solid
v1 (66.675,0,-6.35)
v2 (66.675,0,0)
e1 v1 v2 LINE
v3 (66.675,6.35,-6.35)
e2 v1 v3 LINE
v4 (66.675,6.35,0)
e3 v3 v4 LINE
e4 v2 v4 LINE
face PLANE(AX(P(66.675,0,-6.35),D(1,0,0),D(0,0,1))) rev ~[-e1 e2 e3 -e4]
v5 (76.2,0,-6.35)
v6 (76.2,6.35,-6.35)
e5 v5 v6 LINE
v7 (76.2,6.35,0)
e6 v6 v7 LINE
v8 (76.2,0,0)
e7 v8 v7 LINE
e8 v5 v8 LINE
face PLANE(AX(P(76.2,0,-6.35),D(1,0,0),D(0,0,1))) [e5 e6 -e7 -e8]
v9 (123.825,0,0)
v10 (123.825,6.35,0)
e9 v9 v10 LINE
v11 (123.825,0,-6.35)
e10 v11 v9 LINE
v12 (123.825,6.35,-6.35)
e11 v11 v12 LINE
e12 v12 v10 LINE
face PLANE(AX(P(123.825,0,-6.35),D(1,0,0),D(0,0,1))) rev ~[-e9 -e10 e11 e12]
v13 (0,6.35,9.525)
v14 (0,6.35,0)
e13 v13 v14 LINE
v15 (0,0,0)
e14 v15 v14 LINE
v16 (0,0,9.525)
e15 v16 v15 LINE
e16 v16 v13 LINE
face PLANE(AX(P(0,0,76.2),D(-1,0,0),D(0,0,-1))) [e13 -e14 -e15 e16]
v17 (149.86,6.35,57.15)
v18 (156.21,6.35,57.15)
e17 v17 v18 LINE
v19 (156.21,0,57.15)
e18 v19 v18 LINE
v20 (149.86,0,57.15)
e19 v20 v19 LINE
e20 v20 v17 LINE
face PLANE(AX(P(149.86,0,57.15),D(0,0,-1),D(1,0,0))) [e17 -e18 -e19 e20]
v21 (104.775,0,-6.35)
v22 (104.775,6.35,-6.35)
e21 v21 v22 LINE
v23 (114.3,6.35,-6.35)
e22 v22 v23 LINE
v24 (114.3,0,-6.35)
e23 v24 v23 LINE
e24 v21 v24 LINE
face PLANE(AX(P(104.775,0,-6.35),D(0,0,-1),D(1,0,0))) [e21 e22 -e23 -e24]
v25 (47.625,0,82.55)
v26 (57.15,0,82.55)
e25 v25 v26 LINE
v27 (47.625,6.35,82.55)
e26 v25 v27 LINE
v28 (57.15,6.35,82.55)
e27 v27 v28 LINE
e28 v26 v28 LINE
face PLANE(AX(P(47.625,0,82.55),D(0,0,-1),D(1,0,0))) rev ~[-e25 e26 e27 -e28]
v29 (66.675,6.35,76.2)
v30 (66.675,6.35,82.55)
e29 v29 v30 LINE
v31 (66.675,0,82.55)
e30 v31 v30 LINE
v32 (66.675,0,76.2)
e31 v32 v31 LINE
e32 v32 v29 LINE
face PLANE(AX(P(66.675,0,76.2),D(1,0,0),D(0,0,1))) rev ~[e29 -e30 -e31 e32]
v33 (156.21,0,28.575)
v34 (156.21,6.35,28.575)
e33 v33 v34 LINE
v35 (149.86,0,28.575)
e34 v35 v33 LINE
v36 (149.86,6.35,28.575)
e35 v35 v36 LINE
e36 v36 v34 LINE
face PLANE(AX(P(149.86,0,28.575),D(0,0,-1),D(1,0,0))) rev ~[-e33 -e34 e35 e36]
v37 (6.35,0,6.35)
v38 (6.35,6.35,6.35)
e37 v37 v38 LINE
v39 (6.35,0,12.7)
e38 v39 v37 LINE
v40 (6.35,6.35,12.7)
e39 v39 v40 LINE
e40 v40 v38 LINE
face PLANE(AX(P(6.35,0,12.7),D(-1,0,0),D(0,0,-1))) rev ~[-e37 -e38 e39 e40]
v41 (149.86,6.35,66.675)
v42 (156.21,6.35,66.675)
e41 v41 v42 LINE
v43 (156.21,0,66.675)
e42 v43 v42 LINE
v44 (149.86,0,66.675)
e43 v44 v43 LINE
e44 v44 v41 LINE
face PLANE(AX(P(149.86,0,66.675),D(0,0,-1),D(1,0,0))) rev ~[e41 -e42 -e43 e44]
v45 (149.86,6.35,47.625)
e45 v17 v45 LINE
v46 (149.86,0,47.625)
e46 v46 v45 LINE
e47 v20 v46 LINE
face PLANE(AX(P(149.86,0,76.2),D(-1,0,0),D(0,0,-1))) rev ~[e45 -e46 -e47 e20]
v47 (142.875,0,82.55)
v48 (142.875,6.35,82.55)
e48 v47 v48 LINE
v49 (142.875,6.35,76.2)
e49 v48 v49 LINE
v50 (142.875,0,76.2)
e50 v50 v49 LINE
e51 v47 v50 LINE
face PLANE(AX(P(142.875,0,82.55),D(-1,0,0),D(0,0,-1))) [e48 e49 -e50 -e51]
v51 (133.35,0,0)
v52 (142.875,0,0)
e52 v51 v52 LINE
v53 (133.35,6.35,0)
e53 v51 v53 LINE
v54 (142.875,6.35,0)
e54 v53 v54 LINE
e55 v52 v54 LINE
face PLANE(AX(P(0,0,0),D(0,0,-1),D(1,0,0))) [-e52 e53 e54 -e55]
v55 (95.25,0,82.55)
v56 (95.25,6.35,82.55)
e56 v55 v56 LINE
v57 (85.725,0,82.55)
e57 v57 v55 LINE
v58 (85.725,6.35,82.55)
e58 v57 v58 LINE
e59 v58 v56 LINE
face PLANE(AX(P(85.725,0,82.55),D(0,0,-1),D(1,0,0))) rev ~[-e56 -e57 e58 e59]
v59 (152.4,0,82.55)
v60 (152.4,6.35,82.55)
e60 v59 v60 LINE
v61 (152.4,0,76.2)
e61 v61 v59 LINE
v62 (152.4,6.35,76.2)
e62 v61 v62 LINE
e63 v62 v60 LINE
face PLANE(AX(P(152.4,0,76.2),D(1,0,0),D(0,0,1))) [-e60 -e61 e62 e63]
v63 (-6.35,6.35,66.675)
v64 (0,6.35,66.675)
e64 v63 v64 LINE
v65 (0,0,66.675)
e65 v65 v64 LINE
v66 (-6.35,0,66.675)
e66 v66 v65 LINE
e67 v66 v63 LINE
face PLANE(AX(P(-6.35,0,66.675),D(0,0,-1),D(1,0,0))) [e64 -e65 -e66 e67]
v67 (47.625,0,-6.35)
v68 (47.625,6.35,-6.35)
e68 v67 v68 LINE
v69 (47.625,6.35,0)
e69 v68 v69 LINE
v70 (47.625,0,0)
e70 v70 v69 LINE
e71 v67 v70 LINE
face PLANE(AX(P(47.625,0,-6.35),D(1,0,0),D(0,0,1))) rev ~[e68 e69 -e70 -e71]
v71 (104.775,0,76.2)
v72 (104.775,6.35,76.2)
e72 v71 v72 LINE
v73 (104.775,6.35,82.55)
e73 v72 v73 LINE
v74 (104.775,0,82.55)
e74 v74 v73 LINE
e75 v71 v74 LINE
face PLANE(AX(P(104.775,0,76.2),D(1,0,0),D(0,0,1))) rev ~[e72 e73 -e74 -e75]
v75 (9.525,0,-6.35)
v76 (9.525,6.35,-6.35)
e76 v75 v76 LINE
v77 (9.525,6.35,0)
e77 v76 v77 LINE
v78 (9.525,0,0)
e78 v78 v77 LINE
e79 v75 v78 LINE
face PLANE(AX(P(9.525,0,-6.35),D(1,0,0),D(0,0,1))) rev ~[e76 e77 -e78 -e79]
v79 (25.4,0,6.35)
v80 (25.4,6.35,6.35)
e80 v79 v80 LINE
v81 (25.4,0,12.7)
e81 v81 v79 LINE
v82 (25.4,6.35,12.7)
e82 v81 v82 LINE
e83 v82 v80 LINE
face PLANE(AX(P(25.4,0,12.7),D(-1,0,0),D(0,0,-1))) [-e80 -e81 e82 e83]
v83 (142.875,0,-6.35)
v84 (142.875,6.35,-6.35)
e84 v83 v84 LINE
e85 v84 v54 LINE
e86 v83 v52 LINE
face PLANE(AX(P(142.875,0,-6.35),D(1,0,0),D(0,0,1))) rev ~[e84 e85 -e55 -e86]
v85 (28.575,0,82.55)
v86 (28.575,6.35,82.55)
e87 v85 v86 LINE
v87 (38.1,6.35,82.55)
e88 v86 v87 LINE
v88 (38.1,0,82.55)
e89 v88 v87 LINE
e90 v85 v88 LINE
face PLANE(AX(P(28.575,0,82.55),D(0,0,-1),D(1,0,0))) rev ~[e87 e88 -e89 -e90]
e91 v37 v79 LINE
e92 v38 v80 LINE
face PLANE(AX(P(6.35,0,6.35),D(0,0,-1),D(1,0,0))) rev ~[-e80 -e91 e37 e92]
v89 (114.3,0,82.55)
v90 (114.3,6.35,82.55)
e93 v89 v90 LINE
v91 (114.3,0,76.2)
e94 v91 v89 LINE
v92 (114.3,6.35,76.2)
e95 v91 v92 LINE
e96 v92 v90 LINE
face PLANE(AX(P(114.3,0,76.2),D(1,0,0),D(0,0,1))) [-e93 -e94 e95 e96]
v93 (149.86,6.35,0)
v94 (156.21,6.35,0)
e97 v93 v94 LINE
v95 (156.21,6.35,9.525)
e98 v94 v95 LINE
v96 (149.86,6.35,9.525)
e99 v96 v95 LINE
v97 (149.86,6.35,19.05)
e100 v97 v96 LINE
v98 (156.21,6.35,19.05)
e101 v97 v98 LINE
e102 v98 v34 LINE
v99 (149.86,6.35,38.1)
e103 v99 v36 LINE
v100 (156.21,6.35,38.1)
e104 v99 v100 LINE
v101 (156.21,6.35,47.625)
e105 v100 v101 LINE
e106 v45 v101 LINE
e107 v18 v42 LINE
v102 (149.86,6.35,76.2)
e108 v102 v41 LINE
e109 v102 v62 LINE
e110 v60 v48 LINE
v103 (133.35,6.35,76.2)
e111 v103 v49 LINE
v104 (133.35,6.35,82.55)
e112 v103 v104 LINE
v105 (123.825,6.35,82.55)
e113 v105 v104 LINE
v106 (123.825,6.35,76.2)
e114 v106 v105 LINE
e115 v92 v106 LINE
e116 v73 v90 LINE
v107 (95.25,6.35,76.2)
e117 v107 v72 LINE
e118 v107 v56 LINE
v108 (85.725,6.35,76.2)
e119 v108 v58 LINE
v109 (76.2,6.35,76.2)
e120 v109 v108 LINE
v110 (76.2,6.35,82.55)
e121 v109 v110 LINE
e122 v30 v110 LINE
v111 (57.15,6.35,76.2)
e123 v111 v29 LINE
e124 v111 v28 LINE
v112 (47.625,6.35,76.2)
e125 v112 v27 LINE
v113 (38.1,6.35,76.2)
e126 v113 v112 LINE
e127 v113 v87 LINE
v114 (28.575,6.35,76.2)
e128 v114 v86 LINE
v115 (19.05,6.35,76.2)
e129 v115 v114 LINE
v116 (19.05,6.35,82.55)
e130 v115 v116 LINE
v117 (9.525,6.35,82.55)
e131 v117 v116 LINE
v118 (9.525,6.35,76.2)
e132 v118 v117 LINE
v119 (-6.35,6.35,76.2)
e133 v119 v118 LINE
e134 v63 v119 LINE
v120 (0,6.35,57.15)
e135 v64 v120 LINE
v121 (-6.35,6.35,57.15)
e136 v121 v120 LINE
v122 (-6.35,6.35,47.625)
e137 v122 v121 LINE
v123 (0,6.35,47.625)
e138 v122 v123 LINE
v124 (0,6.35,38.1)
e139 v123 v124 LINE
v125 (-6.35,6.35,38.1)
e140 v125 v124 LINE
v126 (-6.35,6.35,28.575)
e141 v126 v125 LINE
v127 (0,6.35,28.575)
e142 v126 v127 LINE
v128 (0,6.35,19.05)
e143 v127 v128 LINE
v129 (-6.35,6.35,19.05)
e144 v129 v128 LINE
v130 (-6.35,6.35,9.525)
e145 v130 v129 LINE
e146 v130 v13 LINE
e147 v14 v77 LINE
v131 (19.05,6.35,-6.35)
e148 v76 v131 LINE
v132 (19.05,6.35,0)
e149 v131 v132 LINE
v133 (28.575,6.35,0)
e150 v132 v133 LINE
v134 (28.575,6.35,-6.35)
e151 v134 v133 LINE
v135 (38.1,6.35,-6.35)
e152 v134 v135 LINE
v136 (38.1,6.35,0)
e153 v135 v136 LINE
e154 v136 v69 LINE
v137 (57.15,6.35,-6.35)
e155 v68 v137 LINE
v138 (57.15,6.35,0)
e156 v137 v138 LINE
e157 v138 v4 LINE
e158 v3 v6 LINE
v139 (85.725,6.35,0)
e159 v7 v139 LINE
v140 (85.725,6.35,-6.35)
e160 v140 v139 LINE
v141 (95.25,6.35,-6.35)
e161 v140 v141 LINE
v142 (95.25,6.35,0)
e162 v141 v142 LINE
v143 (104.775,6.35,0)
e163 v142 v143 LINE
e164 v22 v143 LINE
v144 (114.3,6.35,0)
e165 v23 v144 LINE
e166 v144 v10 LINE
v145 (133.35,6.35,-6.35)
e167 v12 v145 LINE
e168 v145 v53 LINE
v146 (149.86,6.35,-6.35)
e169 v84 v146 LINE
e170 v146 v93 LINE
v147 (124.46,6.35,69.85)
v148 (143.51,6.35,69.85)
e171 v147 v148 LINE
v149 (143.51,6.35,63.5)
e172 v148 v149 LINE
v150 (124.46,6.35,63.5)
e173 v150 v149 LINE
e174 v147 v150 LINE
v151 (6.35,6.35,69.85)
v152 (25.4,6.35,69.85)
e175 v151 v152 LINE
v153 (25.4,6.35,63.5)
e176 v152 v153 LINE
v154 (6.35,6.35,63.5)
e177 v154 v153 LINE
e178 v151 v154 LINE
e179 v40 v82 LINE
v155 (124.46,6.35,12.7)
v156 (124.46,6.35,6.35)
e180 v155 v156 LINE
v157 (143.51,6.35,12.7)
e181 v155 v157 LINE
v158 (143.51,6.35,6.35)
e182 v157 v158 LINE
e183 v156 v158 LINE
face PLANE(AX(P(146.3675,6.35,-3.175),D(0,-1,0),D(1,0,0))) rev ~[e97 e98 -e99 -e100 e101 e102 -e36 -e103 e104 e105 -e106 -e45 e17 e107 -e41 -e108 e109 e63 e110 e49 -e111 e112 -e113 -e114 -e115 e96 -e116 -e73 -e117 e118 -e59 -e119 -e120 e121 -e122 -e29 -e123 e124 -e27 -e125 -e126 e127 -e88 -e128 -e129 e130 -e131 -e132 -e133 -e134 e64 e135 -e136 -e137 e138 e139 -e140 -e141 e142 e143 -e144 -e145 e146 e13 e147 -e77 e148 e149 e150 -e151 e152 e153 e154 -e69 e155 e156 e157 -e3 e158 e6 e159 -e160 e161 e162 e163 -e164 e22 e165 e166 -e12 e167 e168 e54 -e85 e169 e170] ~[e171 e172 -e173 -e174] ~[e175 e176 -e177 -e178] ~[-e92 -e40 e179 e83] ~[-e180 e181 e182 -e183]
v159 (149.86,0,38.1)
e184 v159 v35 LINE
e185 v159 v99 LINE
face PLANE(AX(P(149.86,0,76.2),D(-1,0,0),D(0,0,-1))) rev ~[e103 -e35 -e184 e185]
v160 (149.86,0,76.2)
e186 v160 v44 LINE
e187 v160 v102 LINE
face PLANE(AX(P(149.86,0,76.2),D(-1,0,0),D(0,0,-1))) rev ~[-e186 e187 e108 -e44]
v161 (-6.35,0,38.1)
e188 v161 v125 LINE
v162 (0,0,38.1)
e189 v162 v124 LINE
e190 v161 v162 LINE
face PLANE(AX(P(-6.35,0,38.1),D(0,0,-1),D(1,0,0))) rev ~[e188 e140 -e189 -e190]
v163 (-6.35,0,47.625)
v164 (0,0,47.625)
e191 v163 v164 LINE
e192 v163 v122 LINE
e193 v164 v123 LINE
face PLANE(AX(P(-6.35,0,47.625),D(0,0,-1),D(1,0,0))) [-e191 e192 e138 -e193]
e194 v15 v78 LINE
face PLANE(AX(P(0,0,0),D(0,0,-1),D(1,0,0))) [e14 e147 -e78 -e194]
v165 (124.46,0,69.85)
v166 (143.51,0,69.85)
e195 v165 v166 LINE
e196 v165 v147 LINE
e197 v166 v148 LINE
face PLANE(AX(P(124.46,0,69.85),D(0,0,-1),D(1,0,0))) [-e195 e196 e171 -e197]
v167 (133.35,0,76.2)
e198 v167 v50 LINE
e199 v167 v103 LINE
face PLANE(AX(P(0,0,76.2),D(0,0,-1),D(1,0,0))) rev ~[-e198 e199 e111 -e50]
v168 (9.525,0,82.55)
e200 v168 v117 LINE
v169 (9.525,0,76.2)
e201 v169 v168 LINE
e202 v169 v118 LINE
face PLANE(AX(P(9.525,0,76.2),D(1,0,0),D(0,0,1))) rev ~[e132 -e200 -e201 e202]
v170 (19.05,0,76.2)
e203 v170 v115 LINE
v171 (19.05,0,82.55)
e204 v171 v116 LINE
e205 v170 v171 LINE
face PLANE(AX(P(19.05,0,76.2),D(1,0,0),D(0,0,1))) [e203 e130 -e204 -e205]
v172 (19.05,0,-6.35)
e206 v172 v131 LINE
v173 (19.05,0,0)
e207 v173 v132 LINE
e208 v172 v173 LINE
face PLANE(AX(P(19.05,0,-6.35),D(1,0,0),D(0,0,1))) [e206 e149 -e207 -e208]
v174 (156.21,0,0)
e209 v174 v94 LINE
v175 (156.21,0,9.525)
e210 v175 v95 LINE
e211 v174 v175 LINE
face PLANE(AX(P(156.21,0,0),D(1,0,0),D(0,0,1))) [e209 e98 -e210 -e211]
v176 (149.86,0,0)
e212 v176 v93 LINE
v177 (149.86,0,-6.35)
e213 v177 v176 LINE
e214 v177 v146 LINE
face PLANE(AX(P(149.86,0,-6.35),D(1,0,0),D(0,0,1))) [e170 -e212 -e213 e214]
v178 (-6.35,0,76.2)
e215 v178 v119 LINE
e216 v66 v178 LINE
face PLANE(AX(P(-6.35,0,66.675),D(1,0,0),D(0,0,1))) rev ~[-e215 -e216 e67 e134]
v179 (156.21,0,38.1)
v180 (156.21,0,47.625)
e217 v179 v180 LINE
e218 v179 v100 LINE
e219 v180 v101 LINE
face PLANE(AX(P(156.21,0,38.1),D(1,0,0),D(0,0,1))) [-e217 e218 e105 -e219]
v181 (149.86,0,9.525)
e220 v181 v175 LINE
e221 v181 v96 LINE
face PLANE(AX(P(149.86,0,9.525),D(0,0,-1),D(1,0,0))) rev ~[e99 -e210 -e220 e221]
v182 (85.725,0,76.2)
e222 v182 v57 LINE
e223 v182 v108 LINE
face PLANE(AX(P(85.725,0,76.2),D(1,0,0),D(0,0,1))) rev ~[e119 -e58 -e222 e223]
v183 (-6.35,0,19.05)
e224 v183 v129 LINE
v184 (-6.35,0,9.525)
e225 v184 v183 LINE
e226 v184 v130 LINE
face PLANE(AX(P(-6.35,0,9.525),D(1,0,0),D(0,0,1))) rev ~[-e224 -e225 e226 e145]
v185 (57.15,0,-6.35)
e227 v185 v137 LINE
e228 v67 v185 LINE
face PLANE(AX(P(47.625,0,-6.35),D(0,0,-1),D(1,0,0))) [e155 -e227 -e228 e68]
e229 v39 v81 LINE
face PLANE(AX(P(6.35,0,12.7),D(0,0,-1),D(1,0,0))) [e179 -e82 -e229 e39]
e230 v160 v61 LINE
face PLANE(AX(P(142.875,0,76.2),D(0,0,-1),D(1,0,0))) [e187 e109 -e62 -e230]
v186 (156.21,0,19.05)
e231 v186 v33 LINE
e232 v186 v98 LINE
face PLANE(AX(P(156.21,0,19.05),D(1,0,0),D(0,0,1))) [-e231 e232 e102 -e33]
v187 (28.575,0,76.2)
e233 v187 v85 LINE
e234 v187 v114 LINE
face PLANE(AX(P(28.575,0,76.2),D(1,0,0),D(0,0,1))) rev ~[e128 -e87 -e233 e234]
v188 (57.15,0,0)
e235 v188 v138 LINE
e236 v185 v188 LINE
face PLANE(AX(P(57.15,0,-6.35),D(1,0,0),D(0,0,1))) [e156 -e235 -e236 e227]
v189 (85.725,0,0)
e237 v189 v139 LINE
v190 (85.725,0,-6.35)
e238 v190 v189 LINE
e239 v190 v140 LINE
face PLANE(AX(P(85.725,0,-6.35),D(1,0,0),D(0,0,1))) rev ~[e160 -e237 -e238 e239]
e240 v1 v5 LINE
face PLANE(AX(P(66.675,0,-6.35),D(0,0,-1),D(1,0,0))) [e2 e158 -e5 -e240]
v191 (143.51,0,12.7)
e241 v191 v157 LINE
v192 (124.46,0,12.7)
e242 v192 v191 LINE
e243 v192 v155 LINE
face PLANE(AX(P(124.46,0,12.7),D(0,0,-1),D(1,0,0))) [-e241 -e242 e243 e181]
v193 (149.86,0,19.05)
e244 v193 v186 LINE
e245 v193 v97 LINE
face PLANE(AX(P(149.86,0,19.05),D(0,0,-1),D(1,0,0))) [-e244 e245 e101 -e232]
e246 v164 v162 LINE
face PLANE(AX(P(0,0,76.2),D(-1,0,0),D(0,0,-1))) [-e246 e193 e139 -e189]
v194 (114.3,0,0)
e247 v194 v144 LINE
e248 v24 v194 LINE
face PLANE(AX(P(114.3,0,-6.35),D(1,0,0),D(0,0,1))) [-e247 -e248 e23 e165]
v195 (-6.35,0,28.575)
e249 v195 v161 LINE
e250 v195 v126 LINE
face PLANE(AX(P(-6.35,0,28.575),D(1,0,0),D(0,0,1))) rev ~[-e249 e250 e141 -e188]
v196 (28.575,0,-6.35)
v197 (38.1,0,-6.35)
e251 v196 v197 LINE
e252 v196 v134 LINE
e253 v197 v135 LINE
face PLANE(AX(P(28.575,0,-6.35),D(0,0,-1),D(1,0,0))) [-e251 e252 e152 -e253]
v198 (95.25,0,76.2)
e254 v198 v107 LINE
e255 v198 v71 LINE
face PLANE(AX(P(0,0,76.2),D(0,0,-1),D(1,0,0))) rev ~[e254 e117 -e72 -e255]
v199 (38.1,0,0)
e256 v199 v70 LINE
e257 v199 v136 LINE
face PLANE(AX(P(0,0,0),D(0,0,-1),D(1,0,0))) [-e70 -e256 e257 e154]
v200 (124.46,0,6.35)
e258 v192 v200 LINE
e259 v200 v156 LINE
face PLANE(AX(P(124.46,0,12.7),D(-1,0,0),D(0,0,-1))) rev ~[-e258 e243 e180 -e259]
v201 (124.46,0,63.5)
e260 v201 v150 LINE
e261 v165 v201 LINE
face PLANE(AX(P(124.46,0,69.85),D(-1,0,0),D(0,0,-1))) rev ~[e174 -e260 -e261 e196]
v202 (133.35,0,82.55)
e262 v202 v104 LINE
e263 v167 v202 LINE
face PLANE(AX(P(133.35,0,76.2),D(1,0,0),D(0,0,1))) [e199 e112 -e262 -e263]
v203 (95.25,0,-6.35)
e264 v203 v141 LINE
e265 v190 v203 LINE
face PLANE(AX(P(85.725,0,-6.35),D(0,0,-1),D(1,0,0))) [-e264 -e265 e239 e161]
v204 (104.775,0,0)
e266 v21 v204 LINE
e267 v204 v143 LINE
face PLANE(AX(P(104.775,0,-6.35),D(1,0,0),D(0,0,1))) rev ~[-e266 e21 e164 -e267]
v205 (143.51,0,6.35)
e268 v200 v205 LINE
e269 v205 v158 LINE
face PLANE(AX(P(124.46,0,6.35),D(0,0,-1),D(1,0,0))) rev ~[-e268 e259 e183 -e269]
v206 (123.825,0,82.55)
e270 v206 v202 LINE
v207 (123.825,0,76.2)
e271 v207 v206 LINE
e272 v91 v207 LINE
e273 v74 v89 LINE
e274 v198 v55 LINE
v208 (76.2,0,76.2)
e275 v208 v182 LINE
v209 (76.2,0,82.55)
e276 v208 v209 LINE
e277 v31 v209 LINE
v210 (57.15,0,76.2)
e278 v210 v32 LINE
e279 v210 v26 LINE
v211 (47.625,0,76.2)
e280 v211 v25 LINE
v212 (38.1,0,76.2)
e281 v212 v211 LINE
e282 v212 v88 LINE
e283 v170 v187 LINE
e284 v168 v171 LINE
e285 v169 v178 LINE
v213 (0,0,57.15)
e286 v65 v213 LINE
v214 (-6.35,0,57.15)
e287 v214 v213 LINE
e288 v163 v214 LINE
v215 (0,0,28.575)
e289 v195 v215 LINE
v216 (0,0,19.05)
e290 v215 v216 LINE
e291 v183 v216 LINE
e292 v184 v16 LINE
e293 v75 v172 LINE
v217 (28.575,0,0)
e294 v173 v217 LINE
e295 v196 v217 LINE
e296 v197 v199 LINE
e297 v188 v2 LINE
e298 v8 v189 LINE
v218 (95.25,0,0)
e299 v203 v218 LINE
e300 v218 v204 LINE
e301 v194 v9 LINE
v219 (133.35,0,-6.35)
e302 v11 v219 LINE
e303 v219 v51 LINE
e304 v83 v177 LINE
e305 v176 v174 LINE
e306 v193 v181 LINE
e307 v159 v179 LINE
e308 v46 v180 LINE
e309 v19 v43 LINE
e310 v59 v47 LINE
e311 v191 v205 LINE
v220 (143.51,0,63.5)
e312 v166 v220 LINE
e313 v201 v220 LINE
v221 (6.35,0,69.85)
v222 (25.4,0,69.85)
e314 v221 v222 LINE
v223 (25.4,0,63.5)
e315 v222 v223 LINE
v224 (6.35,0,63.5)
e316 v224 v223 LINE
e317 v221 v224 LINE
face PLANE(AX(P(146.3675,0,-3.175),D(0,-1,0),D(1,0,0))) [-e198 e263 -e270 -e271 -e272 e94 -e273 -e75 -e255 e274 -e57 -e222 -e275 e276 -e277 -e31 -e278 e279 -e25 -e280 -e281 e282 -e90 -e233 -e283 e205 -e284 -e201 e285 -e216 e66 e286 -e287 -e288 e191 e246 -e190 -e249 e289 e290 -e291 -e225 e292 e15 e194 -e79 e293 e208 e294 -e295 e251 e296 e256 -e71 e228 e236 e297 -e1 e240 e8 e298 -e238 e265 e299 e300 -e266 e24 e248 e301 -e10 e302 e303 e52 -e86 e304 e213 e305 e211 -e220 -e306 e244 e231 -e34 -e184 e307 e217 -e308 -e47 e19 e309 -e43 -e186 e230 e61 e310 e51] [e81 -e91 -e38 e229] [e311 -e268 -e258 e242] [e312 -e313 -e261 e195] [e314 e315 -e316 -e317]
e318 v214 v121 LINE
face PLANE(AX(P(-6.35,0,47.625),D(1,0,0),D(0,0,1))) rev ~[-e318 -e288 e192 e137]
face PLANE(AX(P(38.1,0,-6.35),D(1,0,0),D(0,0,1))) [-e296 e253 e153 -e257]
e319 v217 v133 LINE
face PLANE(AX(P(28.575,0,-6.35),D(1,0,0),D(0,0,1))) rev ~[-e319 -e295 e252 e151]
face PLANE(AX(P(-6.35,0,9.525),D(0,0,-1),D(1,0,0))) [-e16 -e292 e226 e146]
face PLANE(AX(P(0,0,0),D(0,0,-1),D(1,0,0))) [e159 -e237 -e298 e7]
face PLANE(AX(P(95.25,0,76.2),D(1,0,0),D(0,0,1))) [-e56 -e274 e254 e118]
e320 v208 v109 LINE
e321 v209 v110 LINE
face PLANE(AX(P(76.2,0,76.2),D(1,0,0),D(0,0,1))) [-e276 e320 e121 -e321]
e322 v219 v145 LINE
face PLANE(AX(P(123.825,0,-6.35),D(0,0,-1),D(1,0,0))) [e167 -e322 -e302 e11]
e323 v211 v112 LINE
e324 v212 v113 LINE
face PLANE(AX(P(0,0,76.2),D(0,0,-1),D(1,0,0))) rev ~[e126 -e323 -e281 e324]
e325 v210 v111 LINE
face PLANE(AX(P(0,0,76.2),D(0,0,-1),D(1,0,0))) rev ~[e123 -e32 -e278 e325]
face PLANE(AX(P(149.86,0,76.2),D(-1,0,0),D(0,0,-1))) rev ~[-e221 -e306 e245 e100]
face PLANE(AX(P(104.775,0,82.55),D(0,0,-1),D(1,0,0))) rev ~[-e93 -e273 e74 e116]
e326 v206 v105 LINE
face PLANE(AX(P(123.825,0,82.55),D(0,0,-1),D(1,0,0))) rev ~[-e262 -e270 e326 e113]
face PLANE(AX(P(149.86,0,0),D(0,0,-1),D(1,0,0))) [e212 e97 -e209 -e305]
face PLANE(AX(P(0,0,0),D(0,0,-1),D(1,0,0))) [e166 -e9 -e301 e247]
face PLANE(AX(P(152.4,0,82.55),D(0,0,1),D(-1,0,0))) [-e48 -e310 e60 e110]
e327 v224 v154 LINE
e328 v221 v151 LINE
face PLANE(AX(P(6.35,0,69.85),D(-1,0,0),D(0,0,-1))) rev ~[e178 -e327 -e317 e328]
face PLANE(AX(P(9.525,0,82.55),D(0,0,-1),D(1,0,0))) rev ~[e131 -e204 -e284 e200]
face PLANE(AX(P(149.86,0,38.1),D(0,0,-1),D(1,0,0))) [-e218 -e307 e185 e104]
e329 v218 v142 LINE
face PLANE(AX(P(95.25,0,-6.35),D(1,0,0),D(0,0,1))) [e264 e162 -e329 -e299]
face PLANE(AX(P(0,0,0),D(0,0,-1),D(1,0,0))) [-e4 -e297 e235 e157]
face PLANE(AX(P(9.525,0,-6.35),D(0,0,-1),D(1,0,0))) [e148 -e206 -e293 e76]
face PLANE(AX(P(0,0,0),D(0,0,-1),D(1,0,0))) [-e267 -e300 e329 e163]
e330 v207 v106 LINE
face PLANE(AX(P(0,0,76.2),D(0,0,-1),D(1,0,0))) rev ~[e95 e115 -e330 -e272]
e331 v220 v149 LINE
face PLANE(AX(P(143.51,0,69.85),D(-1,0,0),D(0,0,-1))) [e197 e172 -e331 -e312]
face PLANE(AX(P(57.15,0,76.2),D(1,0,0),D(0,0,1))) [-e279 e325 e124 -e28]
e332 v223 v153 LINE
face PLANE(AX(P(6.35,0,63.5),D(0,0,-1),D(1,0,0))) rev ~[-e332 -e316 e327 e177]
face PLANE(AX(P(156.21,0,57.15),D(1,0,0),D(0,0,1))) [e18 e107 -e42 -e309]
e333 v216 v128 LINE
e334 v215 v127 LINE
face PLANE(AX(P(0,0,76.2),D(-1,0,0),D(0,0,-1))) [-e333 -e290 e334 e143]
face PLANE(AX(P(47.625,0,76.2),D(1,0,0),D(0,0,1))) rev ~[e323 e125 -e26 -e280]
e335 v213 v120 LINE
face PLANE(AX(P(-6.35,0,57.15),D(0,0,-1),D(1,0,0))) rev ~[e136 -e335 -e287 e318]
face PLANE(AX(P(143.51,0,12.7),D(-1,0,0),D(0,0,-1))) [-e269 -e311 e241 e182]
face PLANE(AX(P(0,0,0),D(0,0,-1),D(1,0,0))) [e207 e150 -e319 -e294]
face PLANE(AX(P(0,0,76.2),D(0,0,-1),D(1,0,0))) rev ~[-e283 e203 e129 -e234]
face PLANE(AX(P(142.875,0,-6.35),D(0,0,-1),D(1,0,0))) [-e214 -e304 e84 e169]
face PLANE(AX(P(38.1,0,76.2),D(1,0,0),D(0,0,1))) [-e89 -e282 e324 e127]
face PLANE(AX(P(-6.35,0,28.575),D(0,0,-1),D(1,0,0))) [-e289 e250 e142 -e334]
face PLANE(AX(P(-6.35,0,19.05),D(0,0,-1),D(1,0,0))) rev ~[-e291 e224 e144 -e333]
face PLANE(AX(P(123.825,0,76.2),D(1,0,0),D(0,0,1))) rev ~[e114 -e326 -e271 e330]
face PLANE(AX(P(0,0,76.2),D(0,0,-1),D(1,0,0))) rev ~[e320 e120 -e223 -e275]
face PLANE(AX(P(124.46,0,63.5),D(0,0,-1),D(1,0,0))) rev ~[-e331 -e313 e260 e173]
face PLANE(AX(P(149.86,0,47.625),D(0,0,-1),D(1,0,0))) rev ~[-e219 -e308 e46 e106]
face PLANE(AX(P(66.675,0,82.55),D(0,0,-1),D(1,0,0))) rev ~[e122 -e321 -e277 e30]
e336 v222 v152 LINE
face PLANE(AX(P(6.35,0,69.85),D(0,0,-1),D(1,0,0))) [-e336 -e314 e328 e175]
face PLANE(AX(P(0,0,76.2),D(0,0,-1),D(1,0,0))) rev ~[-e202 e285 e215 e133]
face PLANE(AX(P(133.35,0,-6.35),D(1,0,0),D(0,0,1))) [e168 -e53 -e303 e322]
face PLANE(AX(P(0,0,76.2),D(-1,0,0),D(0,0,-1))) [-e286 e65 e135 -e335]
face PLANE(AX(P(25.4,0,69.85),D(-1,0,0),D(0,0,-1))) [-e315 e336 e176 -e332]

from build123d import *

# Parameters (mm, degrees)
SKETCH1_W           = 149.86
SKETCH1_H           = 76.2
SKETCH1_W_2         = 19.05
SKETCH1_H_2         = 6.35
BOSS_EXTRUDE1_DEPTH = 6.35
SKETCH2_W           = 6.35
SKETCH2_H           = 9.525
SKETCH2_W_2         = 9.525
SKETCH2_H_2         = 6.35
SKETCH2_W_3         = 6.985
BOSS_EXTRUDE2_DEPTH = 6.35


with BuildPart() as part:
    # Sketch1 → Boss-Extrude1 (new body)
    with BuildSketch(Plane(origin=(0, 0, 0), x_dir=(1, 0, 0), z_dir=(0, 1, 0))):
        with Locations((74.93, -38.1)):
            Rectangle(SKETCH1_W, SKETCH1_H)
        with Locations((15.875, -66.675)):
            Rectangle(SKETCH1_W_2, SKETCH1_H_2, mode=Mode.SUBTRACT)
        with Locations((15.875, -9.525)):
            Rectangle(SKETCH1_W_2, SKETCH1_H_2, mode=Mode.SUBTRACT)
        with Locations((133.985, -66.675)):
            Rectangle(SKETCH1_W_2, SKETCH1_H_2, mode=Mode.SUBTRACT)
        with Locations((133.985, -9.525)):
            Rectangle(SKETCH1_W_2, SKETCH1_H_2, mode=Mode.SUBTRACT)
    extrude(amount=BOSS_EXTRUDE1_DEPTH)

    # Sketch2 → Boss-Extrude2 (add)
    with BuildSketch(Plane.XZ):
        with Locations((-3.175, 52.3875)):
            Rectangle(SKETCH2_W, SKETCH2_H)
        with Locations((-3.175, 33.3375)):
            Rectangle(SKETCH2_W, SKETCH2_H)
        with Locations((14.2875, -3.175)):
            Rectangle(SKETCH2_W_2, SKETCH2_H_2)
        with Locations((52.3875, -3.175)):
            Rectangle(SKETCH2_W_2, SKETCH2_H_2)
        with Locations((71.4375, -3.175)):
            Rectangle(SKETCH2_W_2, SKETCH2_H_2)
        with Locations((90.4875, -3.175)):
            Rectangle(SKETCH2_W_2, SKETCH2_H_2)
        with Locations((128.5875, -3.175)):
            Rectangle(SKETCH2_W_2, SKETCH2_H_2)
        with Locations((146.3675, -3.175)):
            Rectangle(SKETCH2_W_3, SKETCH2_H_2)
        with Locations((153.035, 42.8625)):
            Rectangle(SKETCH2_W, SKETCH2_H)
        Polygon((142.875, 82.55), (142.875, 76.2), (149.86, 76.2), (152.4, 76.2), (152.4, 82.55), align=None)
        with Locations((109.5375, 79.375)):
            Rectangle(SKETCH2_W_2, SKETCH2_H_2)
        with Locations((90.4875, 79.375)):
            Rectangle(SKETCH2_W_2, SKETCH2_H_2)
        with Locations((33.3375, 79.375)):
            Rectangle(SKETCH2_W_2, SKETCH2_H_2)
        with Locations((14.2875, 79.375)):
            Rectangle(SKETCH2_W_2, SKETCH2_H_2)
        with Locations((128.5875, 79.375)):
            Rectangle(SKETCH2_W_2, SKETCH2_H_2)
        with Locations((-3.175, 71.4375)):
            Rectangle(SKETCH2_W, SKETCH2_H)
        with Locations((-3.175, 14.2875)):
            Rectangle(SKETCH2_W, SKETCH2_H)
        with Locations((33.3375, -3.175)):
            Rectangle(SKETCH2_W_2, SKETCH2_H_2)
        with Locations((109.5375, -3.175)):
            Rectangle(SKETCH2_W_2, SKETCH2_H_2)
        with Locations((153.035, 4.7625)):
            Rectangle(SKETCH2_W, SKETCH2_H)
        with Locations((153.035, 23.8125)):
            Rectangle(SKETCH2_W, SKETCH2_H)
        with Locations((153.035, 61.9125)):
            Rectangle(SKETCH2_W, SKETCH2_H)
        with Locations((71.4375, 79.375)):
            Rectangle(SKETCH2_W_2, SKETCH2_H_2)
        with Locations((52.3875, 79.375)):
            Rectangle(SKETCH2_W_2, SKETCH2_H_2)
    extrude(amount=-BOSS_EXTRUDE2_DEPTH)


solid = part.part
